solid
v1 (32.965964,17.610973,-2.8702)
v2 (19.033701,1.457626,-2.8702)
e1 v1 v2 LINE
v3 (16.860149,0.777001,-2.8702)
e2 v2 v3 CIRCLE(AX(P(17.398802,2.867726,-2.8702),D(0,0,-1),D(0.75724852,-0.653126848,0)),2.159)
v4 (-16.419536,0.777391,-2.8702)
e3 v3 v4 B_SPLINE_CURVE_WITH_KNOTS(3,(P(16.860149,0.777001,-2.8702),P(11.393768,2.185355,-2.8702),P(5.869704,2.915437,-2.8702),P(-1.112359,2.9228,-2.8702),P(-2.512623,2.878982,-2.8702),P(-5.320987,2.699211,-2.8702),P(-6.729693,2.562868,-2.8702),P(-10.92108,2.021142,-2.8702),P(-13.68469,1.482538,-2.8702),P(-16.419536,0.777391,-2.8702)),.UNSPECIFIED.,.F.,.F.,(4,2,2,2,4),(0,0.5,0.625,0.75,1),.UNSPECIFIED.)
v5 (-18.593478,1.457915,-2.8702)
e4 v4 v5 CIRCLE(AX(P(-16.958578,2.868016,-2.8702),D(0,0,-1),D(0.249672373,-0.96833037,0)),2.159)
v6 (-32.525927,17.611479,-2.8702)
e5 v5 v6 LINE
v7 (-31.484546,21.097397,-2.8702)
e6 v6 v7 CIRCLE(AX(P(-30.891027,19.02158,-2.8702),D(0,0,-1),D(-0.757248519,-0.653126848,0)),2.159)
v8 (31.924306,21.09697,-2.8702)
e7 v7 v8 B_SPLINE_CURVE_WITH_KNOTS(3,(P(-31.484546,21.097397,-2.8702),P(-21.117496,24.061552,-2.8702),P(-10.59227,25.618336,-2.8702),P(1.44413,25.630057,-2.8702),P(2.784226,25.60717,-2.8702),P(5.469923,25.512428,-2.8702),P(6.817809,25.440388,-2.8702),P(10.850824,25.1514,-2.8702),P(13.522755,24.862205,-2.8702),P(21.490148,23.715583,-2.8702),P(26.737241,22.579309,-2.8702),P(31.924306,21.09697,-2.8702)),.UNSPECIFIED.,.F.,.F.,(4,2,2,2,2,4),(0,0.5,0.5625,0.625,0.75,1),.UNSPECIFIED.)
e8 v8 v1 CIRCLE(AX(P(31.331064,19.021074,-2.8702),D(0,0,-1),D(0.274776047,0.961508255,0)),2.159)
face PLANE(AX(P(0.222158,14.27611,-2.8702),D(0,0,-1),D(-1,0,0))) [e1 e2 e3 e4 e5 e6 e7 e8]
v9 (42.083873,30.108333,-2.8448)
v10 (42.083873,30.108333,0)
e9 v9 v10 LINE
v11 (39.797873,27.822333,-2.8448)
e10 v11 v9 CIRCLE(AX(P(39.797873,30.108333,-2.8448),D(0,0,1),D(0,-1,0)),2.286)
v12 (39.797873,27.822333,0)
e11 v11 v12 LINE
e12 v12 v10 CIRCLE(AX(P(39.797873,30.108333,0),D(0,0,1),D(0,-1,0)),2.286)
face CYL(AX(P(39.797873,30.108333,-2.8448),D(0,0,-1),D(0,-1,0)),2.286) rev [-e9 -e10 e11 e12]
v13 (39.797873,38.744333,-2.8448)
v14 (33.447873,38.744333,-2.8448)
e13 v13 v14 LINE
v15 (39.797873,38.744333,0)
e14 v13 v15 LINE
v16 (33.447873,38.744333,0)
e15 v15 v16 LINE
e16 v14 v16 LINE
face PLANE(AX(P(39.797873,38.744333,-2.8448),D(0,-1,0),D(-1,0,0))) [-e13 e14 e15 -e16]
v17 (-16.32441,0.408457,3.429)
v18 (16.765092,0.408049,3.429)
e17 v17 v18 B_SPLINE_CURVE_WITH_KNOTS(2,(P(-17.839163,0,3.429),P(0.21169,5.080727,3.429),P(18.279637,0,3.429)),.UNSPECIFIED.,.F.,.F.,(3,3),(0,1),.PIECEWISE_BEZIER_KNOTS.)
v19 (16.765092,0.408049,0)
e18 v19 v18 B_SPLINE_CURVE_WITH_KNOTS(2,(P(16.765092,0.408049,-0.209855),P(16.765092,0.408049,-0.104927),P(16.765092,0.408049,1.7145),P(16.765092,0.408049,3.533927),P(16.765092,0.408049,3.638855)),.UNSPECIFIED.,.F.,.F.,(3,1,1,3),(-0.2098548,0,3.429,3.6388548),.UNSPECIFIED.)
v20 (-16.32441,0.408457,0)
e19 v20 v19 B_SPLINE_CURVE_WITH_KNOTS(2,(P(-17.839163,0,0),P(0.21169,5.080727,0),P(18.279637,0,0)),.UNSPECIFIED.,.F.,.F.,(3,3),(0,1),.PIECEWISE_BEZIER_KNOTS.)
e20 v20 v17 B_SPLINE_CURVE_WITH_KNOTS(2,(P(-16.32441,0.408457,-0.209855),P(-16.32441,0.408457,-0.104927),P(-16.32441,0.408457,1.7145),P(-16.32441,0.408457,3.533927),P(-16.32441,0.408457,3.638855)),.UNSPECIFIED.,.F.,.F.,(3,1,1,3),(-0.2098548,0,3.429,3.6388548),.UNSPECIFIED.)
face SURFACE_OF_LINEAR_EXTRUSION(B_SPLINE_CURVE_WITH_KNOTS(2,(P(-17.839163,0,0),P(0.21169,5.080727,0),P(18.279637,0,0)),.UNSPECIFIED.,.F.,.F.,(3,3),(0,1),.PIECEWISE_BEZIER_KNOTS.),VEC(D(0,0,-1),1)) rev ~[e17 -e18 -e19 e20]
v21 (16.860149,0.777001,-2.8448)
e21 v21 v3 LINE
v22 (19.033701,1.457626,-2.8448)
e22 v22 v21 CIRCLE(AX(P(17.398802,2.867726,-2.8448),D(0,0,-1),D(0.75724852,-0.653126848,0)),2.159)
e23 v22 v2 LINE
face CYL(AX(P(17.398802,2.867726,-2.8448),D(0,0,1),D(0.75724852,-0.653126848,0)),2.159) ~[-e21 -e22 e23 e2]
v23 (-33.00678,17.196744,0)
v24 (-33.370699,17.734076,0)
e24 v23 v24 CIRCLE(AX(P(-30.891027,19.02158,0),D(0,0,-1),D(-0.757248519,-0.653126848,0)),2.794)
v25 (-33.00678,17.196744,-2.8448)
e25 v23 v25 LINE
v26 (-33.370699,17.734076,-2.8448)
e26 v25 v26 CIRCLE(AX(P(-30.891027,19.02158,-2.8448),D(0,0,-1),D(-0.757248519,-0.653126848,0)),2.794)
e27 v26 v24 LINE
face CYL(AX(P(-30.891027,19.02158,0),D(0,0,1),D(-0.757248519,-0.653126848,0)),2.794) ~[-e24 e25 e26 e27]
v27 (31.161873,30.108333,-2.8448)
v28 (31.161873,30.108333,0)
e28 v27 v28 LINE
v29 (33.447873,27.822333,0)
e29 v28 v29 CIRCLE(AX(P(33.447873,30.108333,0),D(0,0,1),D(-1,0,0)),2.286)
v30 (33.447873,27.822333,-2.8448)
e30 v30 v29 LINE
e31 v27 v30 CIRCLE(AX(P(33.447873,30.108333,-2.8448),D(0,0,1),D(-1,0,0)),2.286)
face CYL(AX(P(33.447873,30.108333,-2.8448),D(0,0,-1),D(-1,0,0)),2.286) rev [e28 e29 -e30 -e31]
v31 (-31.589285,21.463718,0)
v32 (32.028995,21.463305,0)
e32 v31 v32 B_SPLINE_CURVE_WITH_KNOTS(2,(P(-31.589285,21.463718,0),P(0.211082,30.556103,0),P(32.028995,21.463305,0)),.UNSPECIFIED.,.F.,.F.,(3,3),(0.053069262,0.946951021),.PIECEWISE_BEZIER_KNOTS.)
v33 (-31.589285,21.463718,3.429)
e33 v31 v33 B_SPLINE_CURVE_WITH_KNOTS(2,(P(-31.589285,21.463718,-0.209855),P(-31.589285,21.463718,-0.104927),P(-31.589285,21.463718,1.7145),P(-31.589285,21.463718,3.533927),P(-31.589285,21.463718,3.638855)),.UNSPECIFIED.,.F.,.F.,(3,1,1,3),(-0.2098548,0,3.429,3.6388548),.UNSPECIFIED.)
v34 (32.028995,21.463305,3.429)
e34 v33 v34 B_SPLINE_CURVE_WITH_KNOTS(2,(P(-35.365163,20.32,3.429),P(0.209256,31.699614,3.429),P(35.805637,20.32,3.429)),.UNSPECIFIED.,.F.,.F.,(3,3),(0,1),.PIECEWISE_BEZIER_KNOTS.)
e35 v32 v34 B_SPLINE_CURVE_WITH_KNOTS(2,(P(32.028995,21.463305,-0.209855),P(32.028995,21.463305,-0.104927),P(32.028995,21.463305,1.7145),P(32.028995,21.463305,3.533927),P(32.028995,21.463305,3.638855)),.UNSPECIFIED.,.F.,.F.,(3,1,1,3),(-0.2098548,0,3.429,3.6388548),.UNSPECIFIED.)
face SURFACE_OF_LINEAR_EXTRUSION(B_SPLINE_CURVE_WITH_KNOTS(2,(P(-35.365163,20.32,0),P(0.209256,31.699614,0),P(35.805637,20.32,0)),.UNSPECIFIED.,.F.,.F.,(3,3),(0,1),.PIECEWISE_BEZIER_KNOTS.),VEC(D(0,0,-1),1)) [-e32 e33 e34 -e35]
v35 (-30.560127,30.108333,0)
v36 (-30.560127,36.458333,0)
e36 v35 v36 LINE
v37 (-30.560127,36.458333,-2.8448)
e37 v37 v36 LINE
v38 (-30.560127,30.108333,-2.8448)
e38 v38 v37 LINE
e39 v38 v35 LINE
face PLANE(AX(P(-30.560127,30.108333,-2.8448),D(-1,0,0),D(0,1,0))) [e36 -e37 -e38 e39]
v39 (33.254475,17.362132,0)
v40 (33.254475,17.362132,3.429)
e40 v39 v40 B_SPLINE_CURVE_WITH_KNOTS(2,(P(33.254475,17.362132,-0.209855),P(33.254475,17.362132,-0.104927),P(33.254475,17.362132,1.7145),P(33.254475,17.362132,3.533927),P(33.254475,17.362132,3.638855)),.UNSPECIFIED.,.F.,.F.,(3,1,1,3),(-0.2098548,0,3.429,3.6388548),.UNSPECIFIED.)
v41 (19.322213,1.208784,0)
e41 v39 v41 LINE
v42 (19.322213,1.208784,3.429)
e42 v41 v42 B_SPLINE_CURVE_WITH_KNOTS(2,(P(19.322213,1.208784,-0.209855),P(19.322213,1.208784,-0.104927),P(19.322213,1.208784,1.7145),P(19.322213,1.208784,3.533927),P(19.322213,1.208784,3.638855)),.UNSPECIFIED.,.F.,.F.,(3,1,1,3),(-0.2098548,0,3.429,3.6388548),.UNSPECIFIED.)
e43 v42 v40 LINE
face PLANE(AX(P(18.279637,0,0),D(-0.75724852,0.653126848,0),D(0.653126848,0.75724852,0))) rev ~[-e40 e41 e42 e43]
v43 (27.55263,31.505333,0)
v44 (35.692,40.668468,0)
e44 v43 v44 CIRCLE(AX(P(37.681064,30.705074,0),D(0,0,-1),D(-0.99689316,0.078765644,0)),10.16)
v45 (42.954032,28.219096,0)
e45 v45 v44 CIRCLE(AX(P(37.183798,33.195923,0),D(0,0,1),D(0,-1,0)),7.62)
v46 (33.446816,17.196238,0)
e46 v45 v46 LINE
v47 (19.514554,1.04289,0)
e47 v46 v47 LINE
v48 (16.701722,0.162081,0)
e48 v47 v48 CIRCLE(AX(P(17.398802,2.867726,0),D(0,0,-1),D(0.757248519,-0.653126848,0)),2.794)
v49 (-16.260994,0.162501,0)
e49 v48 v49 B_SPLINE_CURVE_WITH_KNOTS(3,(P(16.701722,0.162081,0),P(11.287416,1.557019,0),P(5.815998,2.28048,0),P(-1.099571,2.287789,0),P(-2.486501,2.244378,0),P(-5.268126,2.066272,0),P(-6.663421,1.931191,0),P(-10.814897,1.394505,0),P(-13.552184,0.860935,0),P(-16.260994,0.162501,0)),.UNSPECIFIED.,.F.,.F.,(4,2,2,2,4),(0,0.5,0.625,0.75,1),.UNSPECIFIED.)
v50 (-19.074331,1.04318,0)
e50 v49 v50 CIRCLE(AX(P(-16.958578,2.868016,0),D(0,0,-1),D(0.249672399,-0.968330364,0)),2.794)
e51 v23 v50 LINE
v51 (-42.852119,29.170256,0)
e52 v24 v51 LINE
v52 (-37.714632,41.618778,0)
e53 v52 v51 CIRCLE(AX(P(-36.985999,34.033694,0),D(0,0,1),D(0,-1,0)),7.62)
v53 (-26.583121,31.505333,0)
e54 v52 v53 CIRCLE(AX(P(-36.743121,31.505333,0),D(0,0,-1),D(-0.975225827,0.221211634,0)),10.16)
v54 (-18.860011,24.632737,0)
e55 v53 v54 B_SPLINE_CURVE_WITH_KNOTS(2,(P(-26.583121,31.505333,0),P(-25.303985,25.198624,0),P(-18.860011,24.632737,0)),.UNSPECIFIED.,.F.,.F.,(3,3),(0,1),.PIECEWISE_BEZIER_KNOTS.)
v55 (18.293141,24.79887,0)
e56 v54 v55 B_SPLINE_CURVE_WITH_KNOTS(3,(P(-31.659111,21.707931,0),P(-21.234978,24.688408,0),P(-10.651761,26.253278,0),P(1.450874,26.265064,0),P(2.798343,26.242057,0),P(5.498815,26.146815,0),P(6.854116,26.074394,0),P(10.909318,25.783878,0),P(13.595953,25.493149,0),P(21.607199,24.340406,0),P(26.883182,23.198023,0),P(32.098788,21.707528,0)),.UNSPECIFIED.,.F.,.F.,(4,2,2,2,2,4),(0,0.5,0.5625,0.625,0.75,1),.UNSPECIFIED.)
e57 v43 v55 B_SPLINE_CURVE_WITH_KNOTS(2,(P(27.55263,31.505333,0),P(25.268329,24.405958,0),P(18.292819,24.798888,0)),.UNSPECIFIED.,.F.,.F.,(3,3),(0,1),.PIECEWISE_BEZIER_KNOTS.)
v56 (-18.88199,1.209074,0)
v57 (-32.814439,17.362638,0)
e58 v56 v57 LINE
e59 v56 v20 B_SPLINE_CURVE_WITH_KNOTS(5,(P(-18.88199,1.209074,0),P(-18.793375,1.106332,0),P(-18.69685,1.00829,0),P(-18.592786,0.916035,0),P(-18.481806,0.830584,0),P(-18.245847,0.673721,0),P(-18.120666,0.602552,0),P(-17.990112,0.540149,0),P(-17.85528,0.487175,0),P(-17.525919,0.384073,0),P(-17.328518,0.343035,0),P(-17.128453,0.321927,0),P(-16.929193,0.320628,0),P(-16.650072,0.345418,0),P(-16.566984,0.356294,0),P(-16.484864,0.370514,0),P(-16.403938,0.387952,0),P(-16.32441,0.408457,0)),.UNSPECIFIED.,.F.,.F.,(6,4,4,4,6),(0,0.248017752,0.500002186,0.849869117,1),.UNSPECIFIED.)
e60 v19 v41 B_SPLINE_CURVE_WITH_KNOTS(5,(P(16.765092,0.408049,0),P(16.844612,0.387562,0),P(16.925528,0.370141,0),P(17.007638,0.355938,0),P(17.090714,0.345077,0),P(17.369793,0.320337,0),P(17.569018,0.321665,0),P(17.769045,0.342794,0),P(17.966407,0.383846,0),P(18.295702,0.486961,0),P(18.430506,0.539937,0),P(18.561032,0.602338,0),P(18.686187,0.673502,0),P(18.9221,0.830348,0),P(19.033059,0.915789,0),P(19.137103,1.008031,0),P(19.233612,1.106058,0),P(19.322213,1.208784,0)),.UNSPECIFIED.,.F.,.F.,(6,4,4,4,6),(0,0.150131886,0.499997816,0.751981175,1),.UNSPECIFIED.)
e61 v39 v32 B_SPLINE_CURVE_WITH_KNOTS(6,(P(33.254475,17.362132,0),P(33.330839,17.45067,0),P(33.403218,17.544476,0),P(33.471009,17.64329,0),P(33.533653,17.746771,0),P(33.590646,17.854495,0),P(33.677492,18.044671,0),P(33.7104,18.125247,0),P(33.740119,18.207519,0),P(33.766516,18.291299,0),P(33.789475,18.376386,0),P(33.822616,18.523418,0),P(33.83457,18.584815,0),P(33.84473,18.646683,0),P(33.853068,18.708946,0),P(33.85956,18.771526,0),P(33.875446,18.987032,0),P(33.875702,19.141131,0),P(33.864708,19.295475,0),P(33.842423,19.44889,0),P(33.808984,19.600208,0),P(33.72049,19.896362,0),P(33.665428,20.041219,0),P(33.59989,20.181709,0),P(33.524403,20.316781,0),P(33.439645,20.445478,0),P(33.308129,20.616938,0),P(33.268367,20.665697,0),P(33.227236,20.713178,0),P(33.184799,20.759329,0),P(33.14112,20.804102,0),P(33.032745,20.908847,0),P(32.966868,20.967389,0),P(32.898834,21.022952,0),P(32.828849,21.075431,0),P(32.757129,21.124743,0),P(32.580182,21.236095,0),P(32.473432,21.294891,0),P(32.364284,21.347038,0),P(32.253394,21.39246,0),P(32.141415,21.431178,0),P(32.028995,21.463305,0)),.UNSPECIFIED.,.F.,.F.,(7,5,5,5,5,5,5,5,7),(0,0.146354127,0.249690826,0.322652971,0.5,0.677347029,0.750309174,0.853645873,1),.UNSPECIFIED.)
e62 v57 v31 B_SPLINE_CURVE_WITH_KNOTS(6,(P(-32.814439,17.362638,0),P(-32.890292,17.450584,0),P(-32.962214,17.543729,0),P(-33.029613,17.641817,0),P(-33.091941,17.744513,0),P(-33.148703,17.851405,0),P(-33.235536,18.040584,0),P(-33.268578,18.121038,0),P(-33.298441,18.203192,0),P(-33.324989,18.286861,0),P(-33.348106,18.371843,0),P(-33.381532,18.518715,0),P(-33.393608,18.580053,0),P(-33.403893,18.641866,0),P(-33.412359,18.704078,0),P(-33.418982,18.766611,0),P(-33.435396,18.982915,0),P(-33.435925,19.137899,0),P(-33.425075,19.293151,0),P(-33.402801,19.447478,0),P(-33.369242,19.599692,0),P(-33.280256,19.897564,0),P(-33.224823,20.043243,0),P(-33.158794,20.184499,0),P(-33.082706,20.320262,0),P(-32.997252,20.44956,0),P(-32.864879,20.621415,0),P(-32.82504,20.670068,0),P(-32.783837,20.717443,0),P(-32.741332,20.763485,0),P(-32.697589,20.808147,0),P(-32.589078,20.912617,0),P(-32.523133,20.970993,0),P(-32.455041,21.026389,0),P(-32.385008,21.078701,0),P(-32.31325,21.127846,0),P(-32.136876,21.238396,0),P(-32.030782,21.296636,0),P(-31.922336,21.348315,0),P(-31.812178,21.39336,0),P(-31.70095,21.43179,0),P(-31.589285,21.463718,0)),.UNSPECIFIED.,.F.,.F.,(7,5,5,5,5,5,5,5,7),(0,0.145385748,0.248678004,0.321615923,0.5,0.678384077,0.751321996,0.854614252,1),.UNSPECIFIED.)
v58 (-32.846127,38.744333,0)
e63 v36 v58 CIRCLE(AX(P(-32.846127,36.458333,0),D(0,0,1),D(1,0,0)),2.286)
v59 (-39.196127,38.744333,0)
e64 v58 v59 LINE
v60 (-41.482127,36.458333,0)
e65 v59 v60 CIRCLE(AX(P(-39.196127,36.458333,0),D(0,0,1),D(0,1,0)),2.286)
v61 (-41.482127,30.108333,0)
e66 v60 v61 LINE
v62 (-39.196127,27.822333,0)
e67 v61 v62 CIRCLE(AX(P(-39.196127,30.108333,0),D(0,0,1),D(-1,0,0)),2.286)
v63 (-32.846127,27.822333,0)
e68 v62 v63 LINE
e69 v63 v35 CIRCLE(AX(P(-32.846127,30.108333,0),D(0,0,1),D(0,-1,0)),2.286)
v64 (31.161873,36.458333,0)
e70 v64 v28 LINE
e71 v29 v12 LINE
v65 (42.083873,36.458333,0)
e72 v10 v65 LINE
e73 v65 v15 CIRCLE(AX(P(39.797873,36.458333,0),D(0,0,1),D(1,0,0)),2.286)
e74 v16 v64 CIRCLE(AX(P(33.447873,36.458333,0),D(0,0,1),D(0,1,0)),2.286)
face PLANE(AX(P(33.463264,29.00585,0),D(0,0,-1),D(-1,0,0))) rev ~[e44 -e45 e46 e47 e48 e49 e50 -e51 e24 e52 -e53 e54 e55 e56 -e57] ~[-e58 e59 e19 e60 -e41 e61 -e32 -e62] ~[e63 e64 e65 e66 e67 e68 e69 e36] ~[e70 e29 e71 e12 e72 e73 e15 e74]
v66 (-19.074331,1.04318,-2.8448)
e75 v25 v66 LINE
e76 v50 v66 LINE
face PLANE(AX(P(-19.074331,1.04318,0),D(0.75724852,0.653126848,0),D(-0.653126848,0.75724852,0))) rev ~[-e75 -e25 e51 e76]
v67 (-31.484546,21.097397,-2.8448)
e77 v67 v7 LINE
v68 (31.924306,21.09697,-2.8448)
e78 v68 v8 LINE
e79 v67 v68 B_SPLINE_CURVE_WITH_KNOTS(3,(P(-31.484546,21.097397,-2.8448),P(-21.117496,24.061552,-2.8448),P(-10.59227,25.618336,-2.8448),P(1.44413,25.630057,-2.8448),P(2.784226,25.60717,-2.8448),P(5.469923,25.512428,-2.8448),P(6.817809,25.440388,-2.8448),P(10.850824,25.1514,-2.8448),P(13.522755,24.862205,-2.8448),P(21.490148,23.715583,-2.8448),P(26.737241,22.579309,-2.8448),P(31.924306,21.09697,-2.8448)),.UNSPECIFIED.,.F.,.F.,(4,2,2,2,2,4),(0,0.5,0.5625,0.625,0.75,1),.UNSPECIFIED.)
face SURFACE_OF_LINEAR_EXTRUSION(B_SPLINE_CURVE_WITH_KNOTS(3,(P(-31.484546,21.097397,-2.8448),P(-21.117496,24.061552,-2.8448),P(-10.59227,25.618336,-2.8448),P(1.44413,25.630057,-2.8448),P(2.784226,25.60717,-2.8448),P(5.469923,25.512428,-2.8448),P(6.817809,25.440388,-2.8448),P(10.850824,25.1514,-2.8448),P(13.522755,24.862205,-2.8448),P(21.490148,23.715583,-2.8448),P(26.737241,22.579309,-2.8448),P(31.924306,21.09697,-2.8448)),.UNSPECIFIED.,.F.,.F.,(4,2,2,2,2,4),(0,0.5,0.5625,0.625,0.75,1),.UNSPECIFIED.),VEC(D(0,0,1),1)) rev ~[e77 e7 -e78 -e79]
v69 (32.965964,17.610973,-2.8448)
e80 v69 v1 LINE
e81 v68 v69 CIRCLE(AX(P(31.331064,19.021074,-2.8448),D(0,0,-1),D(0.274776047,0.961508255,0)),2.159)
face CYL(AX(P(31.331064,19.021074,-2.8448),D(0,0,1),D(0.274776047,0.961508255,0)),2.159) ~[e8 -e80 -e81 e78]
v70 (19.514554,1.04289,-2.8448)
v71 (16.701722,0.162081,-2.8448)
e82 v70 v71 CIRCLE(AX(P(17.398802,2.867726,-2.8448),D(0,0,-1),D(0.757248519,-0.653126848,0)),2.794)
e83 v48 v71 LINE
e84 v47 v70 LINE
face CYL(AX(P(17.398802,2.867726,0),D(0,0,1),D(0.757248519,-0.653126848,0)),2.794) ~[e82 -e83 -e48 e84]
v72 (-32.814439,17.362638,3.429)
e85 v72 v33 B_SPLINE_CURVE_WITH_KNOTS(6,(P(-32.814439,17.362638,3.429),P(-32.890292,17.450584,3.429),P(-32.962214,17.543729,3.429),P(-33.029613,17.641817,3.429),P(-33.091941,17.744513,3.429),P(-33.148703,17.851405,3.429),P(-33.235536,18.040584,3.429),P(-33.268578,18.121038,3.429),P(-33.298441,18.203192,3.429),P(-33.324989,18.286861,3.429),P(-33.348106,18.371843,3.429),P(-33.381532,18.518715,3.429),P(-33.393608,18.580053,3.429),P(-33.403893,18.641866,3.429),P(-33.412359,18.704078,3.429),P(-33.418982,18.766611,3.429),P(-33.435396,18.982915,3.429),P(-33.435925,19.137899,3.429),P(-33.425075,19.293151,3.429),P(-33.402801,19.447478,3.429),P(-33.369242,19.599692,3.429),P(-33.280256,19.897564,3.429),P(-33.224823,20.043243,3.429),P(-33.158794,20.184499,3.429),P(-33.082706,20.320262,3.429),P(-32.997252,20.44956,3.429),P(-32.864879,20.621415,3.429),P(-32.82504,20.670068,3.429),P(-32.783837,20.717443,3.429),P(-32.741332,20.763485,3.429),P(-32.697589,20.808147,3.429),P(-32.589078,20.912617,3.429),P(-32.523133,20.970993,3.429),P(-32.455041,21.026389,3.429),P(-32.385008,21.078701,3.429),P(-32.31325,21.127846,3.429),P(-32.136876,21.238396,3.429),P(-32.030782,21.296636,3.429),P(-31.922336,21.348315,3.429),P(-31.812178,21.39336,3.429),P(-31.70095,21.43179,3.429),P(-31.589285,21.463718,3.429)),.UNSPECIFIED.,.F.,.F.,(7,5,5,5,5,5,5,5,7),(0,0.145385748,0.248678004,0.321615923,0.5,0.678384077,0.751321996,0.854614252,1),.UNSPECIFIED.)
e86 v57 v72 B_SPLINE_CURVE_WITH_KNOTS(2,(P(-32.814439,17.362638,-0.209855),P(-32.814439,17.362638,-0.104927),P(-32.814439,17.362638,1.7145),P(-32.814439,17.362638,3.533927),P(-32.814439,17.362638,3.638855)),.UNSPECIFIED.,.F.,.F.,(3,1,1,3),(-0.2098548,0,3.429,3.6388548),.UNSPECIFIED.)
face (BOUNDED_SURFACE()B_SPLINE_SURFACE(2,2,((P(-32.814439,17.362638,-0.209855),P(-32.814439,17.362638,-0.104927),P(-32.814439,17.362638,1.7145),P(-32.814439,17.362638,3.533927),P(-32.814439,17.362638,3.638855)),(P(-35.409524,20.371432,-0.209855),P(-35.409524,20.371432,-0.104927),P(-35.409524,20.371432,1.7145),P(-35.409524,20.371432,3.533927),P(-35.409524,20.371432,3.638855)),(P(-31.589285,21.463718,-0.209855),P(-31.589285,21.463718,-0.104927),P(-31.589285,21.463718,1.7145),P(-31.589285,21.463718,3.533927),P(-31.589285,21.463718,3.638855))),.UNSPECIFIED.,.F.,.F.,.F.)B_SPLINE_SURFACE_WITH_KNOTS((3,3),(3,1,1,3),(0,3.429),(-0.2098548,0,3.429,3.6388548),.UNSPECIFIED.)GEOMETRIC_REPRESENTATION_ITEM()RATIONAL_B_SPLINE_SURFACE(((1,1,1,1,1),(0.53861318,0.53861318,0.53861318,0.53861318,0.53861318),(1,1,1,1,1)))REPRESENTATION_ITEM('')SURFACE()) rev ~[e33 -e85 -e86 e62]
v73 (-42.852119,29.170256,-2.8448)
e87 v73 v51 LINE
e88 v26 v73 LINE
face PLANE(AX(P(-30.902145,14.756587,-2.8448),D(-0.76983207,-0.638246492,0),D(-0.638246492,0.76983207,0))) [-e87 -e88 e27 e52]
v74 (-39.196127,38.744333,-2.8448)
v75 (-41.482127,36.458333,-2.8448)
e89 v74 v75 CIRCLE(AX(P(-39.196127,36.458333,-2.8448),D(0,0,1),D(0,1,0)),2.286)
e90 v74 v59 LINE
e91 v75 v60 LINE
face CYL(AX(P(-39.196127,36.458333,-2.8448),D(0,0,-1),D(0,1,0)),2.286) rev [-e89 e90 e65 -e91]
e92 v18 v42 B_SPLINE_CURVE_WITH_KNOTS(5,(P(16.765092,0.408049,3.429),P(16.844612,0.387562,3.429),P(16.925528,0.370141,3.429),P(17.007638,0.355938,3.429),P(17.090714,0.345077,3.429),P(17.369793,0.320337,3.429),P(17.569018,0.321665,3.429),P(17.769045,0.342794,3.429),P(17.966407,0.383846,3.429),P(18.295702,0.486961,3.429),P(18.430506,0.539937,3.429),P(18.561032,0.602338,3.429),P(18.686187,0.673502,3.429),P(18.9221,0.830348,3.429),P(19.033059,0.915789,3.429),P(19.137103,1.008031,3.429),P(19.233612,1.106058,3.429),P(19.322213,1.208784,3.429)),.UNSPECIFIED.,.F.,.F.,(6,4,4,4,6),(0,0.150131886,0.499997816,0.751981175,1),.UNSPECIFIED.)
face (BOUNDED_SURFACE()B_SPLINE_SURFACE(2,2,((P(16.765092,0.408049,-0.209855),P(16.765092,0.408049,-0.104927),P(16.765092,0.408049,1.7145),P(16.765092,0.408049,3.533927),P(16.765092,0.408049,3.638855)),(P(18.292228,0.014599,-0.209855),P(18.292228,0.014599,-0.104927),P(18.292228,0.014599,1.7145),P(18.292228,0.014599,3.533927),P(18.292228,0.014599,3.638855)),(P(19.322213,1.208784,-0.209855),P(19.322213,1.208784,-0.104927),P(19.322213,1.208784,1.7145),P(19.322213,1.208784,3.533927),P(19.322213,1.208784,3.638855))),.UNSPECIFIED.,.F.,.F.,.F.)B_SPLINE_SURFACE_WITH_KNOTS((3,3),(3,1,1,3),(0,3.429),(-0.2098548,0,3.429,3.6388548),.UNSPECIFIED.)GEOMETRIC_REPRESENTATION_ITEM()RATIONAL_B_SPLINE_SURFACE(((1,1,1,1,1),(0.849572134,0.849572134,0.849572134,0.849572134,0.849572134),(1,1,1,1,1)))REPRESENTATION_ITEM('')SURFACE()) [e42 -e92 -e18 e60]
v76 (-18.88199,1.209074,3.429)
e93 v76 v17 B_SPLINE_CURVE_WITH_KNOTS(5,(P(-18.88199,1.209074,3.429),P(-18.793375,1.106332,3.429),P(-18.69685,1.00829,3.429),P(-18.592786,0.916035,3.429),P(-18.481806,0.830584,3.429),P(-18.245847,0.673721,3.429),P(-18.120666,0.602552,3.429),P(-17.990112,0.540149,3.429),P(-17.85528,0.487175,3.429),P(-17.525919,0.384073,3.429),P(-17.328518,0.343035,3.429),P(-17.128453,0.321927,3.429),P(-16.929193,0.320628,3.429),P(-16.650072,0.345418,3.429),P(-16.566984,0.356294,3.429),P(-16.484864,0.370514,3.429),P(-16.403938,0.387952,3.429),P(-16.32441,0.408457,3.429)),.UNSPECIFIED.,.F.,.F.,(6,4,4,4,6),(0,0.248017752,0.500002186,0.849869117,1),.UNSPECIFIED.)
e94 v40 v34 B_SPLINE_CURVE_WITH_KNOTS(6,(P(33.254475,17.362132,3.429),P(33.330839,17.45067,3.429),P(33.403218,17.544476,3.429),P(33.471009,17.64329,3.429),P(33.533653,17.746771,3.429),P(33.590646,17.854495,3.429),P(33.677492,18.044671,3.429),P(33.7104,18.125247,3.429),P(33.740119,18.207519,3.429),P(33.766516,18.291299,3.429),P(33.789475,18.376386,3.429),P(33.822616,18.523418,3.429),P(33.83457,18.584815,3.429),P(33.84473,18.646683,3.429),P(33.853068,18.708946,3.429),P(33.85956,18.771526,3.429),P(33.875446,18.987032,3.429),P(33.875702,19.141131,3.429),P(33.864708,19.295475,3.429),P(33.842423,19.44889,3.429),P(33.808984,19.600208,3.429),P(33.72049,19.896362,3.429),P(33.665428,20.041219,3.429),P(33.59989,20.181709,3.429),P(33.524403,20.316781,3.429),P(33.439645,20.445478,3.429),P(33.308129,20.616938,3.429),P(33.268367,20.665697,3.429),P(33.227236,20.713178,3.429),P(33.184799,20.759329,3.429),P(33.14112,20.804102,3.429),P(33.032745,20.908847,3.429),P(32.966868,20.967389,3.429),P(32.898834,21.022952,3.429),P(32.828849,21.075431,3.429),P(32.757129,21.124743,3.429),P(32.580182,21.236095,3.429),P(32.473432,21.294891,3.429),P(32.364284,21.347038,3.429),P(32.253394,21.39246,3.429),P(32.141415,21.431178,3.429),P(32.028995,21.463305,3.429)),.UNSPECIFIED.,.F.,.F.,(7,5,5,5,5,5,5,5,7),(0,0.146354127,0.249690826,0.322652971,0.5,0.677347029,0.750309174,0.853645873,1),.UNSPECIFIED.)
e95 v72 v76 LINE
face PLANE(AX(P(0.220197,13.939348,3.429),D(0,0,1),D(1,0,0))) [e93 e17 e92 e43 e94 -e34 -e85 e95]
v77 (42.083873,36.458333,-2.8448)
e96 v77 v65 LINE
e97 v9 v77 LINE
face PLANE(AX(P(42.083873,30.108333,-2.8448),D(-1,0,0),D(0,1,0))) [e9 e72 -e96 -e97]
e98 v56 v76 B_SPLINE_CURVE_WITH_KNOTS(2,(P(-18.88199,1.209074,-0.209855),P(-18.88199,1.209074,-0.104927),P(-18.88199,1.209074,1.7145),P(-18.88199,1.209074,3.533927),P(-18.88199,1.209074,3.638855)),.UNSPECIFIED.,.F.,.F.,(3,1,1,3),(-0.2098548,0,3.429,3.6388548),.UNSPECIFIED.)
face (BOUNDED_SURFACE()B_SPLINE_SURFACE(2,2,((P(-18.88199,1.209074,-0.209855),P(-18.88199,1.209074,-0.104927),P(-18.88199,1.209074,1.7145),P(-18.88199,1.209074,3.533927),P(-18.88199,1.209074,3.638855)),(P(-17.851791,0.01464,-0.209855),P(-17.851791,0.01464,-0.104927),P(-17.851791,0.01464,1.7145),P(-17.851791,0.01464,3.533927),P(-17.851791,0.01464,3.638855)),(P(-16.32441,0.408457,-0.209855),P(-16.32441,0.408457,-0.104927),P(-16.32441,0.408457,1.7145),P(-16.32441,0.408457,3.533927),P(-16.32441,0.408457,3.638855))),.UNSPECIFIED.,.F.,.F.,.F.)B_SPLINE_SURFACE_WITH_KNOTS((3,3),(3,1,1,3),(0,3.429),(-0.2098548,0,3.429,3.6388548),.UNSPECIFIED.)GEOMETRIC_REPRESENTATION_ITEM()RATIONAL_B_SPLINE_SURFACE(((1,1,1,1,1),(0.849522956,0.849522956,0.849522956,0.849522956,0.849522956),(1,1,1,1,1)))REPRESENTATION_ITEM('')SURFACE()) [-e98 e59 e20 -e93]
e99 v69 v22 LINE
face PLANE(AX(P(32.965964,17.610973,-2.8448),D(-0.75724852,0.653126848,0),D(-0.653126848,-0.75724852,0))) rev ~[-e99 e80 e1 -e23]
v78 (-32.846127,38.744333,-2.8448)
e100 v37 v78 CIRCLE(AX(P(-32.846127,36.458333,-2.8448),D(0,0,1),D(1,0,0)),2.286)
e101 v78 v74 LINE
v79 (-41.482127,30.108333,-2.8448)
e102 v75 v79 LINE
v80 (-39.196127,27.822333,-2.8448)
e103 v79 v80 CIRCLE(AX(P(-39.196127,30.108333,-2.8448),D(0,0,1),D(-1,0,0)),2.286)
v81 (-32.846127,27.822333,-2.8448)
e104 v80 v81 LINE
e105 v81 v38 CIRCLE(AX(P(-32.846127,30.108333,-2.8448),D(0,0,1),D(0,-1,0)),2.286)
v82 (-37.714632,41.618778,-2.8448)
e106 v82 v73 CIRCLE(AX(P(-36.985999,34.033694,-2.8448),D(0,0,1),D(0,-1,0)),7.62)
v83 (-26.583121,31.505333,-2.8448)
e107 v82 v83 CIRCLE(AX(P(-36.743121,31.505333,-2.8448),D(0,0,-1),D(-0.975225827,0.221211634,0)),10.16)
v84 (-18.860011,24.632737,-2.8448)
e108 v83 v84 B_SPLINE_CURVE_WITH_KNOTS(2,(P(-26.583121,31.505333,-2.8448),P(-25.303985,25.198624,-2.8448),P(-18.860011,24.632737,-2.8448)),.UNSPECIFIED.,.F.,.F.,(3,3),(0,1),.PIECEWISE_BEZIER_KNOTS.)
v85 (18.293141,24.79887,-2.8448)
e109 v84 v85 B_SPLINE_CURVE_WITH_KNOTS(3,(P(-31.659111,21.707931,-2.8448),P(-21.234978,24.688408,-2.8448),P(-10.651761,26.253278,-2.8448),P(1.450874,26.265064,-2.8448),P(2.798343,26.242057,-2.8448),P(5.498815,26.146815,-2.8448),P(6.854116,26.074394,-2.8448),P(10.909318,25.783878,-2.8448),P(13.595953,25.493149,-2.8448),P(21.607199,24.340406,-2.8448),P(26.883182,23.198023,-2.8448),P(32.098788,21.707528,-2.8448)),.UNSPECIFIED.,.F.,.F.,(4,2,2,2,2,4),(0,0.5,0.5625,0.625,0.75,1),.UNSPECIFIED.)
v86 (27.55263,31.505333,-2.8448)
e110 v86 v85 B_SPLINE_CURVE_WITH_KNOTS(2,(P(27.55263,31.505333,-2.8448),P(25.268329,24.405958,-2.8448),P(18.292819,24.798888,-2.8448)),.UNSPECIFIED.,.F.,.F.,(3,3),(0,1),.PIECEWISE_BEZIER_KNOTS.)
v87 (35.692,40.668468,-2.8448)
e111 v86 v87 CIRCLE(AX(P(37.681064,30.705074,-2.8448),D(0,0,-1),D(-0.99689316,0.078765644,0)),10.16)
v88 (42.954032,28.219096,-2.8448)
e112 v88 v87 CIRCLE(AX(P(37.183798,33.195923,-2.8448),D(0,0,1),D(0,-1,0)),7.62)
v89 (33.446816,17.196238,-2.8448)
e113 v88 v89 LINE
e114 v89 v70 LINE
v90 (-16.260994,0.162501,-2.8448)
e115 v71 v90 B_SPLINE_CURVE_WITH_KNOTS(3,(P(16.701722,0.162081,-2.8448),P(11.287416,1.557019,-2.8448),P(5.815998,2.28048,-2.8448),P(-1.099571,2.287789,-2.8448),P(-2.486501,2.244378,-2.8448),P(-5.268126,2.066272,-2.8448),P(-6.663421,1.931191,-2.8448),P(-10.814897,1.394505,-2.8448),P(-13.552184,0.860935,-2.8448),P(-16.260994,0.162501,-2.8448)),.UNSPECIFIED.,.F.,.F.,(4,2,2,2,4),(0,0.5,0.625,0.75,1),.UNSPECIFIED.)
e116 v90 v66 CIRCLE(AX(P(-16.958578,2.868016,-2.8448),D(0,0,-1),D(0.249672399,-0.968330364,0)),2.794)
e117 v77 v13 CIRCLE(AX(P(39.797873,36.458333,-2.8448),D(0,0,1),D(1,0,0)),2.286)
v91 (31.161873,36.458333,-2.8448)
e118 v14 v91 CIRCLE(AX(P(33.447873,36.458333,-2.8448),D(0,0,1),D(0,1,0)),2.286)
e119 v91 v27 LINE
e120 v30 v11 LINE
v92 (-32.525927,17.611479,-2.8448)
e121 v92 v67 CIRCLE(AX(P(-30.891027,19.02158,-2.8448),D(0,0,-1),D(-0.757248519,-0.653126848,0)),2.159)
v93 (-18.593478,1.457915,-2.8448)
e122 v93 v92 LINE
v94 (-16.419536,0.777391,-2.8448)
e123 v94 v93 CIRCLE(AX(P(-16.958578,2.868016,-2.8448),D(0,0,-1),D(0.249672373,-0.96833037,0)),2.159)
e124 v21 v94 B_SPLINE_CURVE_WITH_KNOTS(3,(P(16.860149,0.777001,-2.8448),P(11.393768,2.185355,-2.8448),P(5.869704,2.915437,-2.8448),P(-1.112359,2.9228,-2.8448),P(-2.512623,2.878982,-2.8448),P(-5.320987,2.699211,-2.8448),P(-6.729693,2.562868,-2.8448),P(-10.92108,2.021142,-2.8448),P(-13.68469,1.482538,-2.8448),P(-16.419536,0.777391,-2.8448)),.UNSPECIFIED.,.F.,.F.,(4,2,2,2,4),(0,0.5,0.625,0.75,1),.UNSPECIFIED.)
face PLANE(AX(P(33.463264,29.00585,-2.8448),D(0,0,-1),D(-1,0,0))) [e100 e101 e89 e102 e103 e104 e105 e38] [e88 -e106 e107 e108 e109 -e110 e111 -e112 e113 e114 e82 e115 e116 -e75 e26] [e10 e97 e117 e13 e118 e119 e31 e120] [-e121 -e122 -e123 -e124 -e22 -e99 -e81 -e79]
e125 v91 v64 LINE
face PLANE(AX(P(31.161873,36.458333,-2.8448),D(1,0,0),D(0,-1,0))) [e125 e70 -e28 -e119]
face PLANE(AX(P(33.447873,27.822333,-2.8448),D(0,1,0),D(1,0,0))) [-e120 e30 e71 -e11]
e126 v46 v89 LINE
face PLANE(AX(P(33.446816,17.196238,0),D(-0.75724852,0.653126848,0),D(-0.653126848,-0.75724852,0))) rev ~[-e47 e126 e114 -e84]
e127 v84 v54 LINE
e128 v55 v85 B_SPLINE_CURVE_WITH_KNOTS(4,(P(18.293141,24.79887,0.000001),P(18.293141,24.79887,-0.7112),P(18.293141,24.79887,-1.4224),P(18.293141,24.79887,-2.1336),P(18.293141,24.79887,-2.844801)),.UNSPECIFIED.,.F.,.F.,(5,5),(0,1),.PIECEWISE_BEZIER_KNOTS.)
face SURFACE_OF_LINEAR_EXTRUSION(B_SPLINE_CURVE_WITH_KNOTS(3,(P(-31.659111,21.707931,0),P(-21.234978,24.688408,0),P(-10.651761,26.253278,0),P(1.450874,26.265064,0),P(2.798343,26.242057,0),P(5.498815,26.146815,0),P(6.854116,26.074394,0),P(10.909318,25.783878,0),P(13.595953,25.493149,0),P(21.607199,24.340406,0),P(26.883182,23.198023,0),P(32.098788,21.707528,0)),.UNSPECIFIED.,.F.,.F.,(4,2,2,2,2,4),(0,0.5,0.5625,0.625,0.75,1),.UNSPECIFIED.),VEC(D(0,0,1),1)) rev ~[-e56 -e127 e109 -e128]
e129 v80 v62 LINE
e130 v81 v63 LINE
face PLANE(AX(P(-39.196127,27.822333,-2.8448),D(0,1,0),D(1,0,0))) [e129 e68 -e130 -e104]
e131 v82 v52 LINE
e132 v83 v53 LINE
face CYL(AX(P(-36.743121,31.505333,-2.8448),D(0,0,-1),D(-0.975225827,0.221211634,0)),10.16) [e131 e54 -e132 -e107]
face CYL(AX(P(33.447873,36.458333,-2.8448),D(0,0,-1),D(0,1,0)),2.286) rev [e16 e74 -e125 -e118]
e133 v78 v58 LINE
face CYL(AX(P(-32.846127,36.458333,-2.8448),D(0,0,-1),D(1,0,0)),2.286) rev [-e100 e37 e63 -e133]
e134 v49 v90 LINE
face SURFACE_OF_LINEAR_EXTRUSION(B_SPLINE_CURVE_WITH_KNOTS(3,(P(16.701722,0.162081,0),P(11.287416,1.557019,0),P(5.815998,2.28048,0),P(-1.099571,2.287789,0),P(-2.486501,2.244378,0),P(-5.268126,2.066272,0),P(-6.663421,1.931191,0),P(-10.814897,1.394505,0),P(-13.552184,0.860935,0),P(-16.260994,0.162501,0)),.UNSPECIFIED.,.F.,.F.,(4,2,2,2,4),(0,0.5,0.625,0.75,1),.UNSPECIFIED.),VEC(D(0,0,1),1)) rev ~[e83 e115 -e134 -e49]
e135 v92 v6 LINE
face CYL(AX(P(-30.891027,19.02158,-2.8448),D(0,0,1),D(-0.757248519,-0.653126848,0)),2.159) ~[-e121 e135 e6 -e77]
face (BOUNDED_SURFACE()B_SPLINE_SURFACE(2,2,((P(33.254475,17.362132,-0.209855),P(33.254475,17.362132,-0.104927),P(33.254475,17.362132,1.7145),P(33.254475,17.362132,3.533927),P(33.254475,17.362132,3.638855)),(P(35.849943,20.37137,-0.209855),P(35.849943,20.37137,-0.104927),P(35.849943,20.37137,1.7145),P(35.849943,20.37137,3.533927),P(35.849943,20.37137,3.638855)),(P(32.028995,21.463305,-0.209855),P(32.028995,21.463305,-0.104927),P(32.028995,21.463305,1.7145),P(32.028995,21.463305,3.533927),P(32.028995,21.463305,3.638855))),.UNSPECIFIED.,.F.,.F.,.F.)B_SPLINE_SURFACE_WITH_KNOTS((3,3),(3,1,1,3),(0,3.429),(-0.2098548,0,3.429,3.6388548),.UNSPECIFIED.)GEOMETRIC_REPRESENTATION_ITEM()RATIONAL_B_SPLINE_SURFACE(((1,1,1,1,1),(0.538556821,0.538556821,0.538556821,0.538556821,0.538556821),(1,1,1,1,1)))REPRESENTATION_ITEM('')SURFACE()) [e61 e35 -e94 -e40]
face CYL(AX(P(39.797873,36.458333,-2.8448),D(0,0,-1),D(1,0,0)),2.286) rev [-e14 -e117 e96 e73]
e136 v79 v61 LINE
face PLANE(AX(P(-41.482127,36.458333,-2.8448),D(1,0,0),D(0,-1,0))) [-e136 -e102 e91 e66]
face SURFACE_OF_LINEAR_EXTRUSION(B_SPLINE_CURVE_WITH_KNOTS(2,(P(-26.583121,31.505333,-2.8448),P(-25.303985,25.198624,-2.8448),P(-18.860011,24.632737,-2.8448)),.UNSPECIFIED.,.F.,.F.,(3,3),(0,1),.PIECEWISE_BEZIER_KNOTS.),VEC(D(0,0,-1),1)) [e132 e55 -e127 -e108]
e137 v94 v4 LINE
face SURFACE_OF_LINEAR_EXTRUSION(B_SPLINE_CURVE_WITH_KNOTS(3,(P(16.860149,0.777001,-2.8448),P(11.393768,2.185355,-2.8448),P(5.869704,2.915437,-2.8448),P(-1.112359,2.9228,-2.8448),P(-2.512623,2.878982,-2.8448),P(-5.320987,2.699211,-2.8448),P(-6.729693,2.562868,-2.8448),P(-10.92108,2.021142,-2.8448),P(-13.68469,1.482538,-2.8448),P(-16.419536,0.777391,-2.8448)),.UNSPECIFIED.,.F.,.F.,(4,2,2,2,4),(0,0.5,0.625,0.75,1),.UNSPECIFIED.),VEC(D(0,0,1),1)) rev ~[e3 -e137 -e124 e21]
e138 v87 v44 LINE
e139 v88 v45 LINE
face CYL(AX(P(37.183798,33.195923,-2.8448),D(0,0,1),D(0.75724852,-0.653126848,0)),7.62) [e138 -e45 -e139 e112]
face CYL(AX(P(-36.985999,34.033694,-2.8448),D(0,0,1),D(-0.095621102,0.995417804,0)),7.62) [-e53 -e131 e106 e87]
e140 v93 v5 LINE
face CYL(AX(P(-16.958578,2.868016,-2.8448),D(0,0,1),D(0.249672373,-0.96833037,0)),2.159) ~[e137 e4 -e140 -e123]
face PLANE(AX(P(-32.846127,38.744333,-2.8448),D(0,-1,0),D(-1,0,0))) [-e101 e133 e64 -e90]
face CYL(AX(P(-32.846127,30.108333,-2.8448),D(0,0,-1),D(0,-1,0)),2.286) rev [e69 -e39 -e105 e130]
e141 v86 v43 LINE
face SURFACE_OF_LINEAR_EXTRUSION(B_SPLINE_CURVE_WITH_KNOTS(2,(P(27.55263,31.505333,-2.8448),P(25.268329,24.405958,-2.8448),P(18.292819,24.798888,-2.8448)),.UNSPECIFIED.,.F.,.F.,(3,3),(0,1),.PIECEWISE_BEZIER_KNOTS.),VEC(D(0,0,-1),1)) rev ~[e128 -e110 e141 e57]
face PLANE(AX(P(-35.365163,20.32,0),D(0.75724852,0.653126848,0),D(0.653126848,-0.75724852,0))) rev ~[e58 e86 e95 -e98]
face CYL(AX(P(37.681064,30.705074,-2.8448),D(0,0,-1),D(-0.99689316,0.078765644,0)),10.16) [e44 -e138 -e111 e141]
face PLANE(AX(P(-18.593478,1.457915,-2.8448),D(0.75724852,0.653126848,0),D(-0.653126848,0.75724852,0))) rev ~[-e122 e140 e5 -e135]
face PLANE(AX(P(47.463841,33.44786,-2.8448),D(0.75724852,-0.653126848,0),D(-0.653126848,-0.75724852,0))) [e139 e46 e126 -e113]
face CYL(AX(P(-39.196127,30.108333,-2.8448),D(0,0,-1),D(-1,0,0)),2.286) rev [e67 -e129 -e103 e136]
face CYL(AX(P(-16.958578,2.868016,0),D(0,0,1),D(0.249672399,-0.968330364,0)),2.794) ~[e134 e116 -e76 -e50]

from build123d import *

# Parameters (mm, degrees)
BOSS_EXTRUDE1_DEPTH = 3.429
FILLET1_R           = 2.54
BOSS_EXTRUDE2_DEPTH = 2.8448
BOSS_EXTRUDE3_DEPTH = 2.8448
FILLET2_R           = 7.62
CUT_EXTRUDE1_DEPTH  = 2.8448
BOSS_EXTRUDE4_DEPTH = 2.8448
CUT_EXTRUDE2_DEPTH  = 2.8448
FILLET3_R           = 7.62
BOSS_EXTRUDE5_DEPTH = 0.0254


with BuildPart() as part:
    # Sketch1 → Boss-Extrude1 (new body)
    with BuildSketch(Plane.XY):
        with BuildLine():
            Line((-35.365163415, 20.32), (-17.839163415, 0))
            add(Edge.make_bspline(
                [(-17.839163415, 0), (0.211689908, 5.080726576), (18.279636585, 0)],
                knots=[0, 0, 0, 1, 1, 1], degree=2))
            Line((18.279636585, 0), (35.805636585, 20.32))
            add(Edge.make_bspline(
                [(-35.365163415, 20.32), (0.209256434, 31.699614416), (35.805636585, 20.32)],
                knots=[0, 0, 0, 1, 1, 1], degree=2))
        make_face()
    extrude(amount=BOSS_EXTRUDE1_DEPTH)

    # Fillet1
    fillet1_edges = [part.edges().sort_by_distance(p)[0] for p in [
        (18.279636585, 0, 1.7145),
        (35.805636585, 20.32, 1.7145),
        (-17.839163415, 0, 1.7145),
        (-35.365163415, 20.32, 1.7145),
    ]]
    fillet(fillet1_edges, radius=FILLET1_R)

    # Sketch3 → Boss-Extrude2 (add)
    with BuildSketch(Plane(origin=(0, 0, 0), x_dir=(-1, 0, 0), z_dir=(0, 0, -1))):
        with BuildLine():
            Line((-33.44681638, 17.196237572), (-19.51455408, 1.042889978))
            ThreePointArc((-19.51455408, 1.042889978), (-18.233735028, 0.201395136), (-16.701721503, 0.162081334))
            add(Edge.make_bspline(
                [(-16.701721503, 0.162081334), (-11.287416328, 1.557018557), (-5.815998288, 2.280480011), (1.099570731, 2.287789464), (2.486501294, 2.244377729), (5.268126494, 2.066272068), (6.66342146, 1.931190975), (10.814897092, 1.394504939), (13.552184291, 0.860935066), (16.260993662, 0.162500978)],
                knots=[0, 0, 0, 0, 0.5, 0.5, 0.625, 0.625, 0.75, 0.75, 1, 1, 1, 1], degree=3))
            ThreePointArc((16.260993662, 0.162500978), (17.793263077, 0.201606931), (19.074330708, 1.043179601))
            Line((19.074330708, 1.043179601), (33.006779663, 17.196743606))
            ThreePointArc((33.006779663, 17.196743606), (33.568121111, 19.821332934), (31.659110958, 21.707931354))
            add(Edge.make_bspline(
                [(31.659110958, 21.707931354), (21.234977833, 24.688407586), (10.651761037, 26.253278411), (-1.450873571, 26.265063816), (-2.798343422, 26.242056629), (-5.498815234, 26.146814801), (-6.854115547, 26.074394022), (-10.909317669, 25.783877715), (-13.59595314, 25.493149433), (-21.607199162, 24.340406402), (-26.883182271, 23.198023422), (-32.098788298, 21.707528048)],
                knots=[0, 0, 0, 0, 0.5, 0.5, 0.5625, 0.5625, 0.625, 0.625, 0.75, 0.75, 1, 1, 1, 1], degree=3))
            ThreePointArc((-32.098788298, 21.707528048), (-34.008104328, 19.821005964), (-33.44681638, 17.196237572))
        make_face()
    extrude(amount=BOSS_EXTRUDE2_DEPTH)

    # Sketch6 → Boss-Extrude3 (add)
    with BuildSketch(Plane(origin=(0, 0, -2.8448), x_dir=(-1, 0, 0), z_dir=(0, 0, -1))):
        with BuildLine():
            Line((18.860011299, 24.632736939), (22.773121111, 23.894535093))
            Line((22.773121111, 23.894535093), (30.902144608, 14.756587021))
            Line((30.902144608, 14.756587021), (46.651415509, 33.752843138))
            ThreePointArc((46.651415509, 33.752843138), (35.612340647, 41.602210449), (26.583121111, 31.505332934))
            add(Edge.make_bspline(
                [(26.583121111, 31.505332934), (25.303985062, 25.198624265), (18.860011299, 24.632736939)],
                knots=[0, 0, 0, 1, 1, 1], degree=2))
        make_face()
    extrude(amount=-BOSS_EXTRUDE3_DEPTH)

    # Fillet2
    fillet2_edges = [part.edges().sort_by_distance(p)[0] for p in [
        (-46.651415509, 33.752843138, -1.4224),
    ]]
    fillet(fillet2_edges, radius=FILLET2_R)

    # Sketch8 → Cut-Extrude1 (cut)
    with BuildSketch(Plane(origin=(0, 0, -2.8448), x_dir=(-1, 0, 0), z_dir=(0, 0, -1))):
        with BuildLine():
            Line((32.846126677, 38.744332934), (39.196126677, 38.744332934))
            ThreePointArc((39.196126677, 38.744332934), (40.812572779, 38.074779036), (41.482126677, 36.458332934))
            Line((41.482126677, 36.458332934), (41.482126677, 30.108332934))
            ThreePointArc((41.482126677, 30.108332934), (40.812572779, 28.491886832), (39.196126677, 27.822332934))
            Line((39.196126677, 27.822332934), (32.846126677, 27.822332934))
            ThreePointArc((32.846126677, 27.822332934), (31.229680575, 28.491886832), (30.560126677, 30.108332934))
            Line((30.560126677, 30.108332934), (30.560126677, 36.458332934))
            ThreePointArc((30.560126677, 36.458332934), (31.229680575, 38.074779036), (32.846126677, 38.744332934))
        make_face()
    extrude(amount=-CUT_EXTRUDE1_DEPTH, mode=Mode.SUBTRACT)

    # Sketch9 → Boss-Extrude4 (add)
    with BuildSketch(Plane(origin=(0, 0, -2.8448), x_dir=(-1, 0, 0), z_dir=(0, 0, -1))):
        with BuildLine():
            Line((-47.463840908, 33.447860213), (-33.44681638, 17.196237572))
            Line((-33.44681638, 17.196237572), (-23.253298607, 23.884814358))
            Line((-23.253298607, 23.884814358), (-18.292818846, 24.798887742))
            add(Edge.make_bspline(
                [(-27.552629507, 31.505332934), (-25.268328972, 24.405957798), (-18.292818846, 24.798887742)],
                knots=[0, 0, 0, 1, 1, 1], degree=2))
            ThreePointArc((-27.552629507, 31.505332934), (-36.694543436, 40.817065736), (-47.463840908, 33.447860213))
        make_face()
    extrude(amount=-BOSS_EXTRUDE4_DEPTH)

    # Sketch10 → Cut-Extrude2 (cut)
    with BuildSketch(Plane(origin=(0, 0, -2.8448), x_dir=(-1, 0, 0), z_dir=(0, 0, -1))):
        with BuildLine():
            Line((-39.797873323, 38.744332934), (-33.447873323, 38.744332934))
            ThreePointArc((-33.447873323, 38.744332934), (-31.831427221, 38.074779036), (-31.161873323, 36.458332934))
            Line((-31.161873323, 36.458332934), (-31.161873323, 30.108332934))
            ThreePointArc((-31.161873323, 30.108332934), (-31.831427221, 28.491886832), (-33.447873323, 27.822332934))
            Line((-33.447873323, 27.822332934), (-39.797873323, 27.822332934))
            ThreePointArc((-39.797873323, 27.822332934), (-41.414319425, 28.491886832), (-42.083873323, 30.108332934))
            Line((-42.083873323, 30.108332934), (-42.083873323, 36.458332934))
            ThreePointArc((-42.083873323, 36.458332934), (-41.414319425, 38.074779036), (-39.797873323, 38.744332934))
        make_face()
    extrude(amount=-CUT_EXTRUDE2_DEPTH, mode=Mode.SUBTRACT)

    # Fillet3
    fillet3_edges = [part.edges().sort_by_distance(p)[0] for p in [
        (47.463840908, 33.447860213, -1.4224),
    ]]
    fillet(fillet3_edges, radius=FILLET3_R)

    # Sketch11 → Boss-Extrude5 (add)
    with BuildSketch(Plane(origin=(0, 0, -2.8448), x_dir=(-1, 0, 0), z_dir=(0, 0, -1))):
        with BuildLine():
            Line((-32.96596357, 17.610973121), (-19.03370127, 1.457625527))
            ThreePointArc((-19.03370127, 1.457625527), (-18.043977457, 0.807379512), (-16.860148825, 0.777000665))
            add(Edge.make_bspline(
                [(-16.860148825, 0.777000665), (-11.393767532, 2.185354737), (-5.869704309, 2.915437473), (1.112358732, 2.922799867), (2.512622955, 2.878981915), (5.320986764, 2.699211385), (6.729692814, 2.562868028), (10.921080204, 2.021141726), (13.684690054, 1.482537974), (16.419535692, 0.777390745)],
                knots=[0, 0, 0, 0, 0.5, 0.5, 0.625, 0.625, 0.75, 0.75, 1, 1, 1, 1], degree=3))
            ThreePointArc((16.419535692, 0.777390745), (17.603562029, 0.807609004), (18.593477899, 1.457915149))
            Line((18.593477899, 1.457915149), (32.525926853, 17.611479154))
            ThreePointArc((32.525926853, 17.611479154), (32.9596907, 19.639570906), (31.484546495, 21.097396958))
            add(Edge.make_bspline(
                [(31.484546495, 21.097396958), (21.117495606, 24.061552194), (10.592269896, 25.618335787), (-1.444129852, 25.63005698), (-2.78422621, 25.607170327), (-5.469922522, 25.512428381), (-6.817808951, 25.44038787), (-10.850823746, 25.151400244), (-13.522755051, 24.862204706), (-21.490147902, 23.715583367), (-26.737240722, 22.579309276), (-31.924305501, 21.096970308)],
                knots=[0, 0, 0, 0, 0.5, 0.5, 0.5625, 0.5625, 0.625, 0.625, 0.75, 0.75, 1, 1, 1, 1], degree=3))
            ThreePointArc((-31.924305501, 21.096970308), (-33.399686074, 19.639203245), (-32.96596357, 17.610973121))
        make_face()
    extrude(amount=BOSS_EXTRUDE5_DEPTH)


solid = part.part
